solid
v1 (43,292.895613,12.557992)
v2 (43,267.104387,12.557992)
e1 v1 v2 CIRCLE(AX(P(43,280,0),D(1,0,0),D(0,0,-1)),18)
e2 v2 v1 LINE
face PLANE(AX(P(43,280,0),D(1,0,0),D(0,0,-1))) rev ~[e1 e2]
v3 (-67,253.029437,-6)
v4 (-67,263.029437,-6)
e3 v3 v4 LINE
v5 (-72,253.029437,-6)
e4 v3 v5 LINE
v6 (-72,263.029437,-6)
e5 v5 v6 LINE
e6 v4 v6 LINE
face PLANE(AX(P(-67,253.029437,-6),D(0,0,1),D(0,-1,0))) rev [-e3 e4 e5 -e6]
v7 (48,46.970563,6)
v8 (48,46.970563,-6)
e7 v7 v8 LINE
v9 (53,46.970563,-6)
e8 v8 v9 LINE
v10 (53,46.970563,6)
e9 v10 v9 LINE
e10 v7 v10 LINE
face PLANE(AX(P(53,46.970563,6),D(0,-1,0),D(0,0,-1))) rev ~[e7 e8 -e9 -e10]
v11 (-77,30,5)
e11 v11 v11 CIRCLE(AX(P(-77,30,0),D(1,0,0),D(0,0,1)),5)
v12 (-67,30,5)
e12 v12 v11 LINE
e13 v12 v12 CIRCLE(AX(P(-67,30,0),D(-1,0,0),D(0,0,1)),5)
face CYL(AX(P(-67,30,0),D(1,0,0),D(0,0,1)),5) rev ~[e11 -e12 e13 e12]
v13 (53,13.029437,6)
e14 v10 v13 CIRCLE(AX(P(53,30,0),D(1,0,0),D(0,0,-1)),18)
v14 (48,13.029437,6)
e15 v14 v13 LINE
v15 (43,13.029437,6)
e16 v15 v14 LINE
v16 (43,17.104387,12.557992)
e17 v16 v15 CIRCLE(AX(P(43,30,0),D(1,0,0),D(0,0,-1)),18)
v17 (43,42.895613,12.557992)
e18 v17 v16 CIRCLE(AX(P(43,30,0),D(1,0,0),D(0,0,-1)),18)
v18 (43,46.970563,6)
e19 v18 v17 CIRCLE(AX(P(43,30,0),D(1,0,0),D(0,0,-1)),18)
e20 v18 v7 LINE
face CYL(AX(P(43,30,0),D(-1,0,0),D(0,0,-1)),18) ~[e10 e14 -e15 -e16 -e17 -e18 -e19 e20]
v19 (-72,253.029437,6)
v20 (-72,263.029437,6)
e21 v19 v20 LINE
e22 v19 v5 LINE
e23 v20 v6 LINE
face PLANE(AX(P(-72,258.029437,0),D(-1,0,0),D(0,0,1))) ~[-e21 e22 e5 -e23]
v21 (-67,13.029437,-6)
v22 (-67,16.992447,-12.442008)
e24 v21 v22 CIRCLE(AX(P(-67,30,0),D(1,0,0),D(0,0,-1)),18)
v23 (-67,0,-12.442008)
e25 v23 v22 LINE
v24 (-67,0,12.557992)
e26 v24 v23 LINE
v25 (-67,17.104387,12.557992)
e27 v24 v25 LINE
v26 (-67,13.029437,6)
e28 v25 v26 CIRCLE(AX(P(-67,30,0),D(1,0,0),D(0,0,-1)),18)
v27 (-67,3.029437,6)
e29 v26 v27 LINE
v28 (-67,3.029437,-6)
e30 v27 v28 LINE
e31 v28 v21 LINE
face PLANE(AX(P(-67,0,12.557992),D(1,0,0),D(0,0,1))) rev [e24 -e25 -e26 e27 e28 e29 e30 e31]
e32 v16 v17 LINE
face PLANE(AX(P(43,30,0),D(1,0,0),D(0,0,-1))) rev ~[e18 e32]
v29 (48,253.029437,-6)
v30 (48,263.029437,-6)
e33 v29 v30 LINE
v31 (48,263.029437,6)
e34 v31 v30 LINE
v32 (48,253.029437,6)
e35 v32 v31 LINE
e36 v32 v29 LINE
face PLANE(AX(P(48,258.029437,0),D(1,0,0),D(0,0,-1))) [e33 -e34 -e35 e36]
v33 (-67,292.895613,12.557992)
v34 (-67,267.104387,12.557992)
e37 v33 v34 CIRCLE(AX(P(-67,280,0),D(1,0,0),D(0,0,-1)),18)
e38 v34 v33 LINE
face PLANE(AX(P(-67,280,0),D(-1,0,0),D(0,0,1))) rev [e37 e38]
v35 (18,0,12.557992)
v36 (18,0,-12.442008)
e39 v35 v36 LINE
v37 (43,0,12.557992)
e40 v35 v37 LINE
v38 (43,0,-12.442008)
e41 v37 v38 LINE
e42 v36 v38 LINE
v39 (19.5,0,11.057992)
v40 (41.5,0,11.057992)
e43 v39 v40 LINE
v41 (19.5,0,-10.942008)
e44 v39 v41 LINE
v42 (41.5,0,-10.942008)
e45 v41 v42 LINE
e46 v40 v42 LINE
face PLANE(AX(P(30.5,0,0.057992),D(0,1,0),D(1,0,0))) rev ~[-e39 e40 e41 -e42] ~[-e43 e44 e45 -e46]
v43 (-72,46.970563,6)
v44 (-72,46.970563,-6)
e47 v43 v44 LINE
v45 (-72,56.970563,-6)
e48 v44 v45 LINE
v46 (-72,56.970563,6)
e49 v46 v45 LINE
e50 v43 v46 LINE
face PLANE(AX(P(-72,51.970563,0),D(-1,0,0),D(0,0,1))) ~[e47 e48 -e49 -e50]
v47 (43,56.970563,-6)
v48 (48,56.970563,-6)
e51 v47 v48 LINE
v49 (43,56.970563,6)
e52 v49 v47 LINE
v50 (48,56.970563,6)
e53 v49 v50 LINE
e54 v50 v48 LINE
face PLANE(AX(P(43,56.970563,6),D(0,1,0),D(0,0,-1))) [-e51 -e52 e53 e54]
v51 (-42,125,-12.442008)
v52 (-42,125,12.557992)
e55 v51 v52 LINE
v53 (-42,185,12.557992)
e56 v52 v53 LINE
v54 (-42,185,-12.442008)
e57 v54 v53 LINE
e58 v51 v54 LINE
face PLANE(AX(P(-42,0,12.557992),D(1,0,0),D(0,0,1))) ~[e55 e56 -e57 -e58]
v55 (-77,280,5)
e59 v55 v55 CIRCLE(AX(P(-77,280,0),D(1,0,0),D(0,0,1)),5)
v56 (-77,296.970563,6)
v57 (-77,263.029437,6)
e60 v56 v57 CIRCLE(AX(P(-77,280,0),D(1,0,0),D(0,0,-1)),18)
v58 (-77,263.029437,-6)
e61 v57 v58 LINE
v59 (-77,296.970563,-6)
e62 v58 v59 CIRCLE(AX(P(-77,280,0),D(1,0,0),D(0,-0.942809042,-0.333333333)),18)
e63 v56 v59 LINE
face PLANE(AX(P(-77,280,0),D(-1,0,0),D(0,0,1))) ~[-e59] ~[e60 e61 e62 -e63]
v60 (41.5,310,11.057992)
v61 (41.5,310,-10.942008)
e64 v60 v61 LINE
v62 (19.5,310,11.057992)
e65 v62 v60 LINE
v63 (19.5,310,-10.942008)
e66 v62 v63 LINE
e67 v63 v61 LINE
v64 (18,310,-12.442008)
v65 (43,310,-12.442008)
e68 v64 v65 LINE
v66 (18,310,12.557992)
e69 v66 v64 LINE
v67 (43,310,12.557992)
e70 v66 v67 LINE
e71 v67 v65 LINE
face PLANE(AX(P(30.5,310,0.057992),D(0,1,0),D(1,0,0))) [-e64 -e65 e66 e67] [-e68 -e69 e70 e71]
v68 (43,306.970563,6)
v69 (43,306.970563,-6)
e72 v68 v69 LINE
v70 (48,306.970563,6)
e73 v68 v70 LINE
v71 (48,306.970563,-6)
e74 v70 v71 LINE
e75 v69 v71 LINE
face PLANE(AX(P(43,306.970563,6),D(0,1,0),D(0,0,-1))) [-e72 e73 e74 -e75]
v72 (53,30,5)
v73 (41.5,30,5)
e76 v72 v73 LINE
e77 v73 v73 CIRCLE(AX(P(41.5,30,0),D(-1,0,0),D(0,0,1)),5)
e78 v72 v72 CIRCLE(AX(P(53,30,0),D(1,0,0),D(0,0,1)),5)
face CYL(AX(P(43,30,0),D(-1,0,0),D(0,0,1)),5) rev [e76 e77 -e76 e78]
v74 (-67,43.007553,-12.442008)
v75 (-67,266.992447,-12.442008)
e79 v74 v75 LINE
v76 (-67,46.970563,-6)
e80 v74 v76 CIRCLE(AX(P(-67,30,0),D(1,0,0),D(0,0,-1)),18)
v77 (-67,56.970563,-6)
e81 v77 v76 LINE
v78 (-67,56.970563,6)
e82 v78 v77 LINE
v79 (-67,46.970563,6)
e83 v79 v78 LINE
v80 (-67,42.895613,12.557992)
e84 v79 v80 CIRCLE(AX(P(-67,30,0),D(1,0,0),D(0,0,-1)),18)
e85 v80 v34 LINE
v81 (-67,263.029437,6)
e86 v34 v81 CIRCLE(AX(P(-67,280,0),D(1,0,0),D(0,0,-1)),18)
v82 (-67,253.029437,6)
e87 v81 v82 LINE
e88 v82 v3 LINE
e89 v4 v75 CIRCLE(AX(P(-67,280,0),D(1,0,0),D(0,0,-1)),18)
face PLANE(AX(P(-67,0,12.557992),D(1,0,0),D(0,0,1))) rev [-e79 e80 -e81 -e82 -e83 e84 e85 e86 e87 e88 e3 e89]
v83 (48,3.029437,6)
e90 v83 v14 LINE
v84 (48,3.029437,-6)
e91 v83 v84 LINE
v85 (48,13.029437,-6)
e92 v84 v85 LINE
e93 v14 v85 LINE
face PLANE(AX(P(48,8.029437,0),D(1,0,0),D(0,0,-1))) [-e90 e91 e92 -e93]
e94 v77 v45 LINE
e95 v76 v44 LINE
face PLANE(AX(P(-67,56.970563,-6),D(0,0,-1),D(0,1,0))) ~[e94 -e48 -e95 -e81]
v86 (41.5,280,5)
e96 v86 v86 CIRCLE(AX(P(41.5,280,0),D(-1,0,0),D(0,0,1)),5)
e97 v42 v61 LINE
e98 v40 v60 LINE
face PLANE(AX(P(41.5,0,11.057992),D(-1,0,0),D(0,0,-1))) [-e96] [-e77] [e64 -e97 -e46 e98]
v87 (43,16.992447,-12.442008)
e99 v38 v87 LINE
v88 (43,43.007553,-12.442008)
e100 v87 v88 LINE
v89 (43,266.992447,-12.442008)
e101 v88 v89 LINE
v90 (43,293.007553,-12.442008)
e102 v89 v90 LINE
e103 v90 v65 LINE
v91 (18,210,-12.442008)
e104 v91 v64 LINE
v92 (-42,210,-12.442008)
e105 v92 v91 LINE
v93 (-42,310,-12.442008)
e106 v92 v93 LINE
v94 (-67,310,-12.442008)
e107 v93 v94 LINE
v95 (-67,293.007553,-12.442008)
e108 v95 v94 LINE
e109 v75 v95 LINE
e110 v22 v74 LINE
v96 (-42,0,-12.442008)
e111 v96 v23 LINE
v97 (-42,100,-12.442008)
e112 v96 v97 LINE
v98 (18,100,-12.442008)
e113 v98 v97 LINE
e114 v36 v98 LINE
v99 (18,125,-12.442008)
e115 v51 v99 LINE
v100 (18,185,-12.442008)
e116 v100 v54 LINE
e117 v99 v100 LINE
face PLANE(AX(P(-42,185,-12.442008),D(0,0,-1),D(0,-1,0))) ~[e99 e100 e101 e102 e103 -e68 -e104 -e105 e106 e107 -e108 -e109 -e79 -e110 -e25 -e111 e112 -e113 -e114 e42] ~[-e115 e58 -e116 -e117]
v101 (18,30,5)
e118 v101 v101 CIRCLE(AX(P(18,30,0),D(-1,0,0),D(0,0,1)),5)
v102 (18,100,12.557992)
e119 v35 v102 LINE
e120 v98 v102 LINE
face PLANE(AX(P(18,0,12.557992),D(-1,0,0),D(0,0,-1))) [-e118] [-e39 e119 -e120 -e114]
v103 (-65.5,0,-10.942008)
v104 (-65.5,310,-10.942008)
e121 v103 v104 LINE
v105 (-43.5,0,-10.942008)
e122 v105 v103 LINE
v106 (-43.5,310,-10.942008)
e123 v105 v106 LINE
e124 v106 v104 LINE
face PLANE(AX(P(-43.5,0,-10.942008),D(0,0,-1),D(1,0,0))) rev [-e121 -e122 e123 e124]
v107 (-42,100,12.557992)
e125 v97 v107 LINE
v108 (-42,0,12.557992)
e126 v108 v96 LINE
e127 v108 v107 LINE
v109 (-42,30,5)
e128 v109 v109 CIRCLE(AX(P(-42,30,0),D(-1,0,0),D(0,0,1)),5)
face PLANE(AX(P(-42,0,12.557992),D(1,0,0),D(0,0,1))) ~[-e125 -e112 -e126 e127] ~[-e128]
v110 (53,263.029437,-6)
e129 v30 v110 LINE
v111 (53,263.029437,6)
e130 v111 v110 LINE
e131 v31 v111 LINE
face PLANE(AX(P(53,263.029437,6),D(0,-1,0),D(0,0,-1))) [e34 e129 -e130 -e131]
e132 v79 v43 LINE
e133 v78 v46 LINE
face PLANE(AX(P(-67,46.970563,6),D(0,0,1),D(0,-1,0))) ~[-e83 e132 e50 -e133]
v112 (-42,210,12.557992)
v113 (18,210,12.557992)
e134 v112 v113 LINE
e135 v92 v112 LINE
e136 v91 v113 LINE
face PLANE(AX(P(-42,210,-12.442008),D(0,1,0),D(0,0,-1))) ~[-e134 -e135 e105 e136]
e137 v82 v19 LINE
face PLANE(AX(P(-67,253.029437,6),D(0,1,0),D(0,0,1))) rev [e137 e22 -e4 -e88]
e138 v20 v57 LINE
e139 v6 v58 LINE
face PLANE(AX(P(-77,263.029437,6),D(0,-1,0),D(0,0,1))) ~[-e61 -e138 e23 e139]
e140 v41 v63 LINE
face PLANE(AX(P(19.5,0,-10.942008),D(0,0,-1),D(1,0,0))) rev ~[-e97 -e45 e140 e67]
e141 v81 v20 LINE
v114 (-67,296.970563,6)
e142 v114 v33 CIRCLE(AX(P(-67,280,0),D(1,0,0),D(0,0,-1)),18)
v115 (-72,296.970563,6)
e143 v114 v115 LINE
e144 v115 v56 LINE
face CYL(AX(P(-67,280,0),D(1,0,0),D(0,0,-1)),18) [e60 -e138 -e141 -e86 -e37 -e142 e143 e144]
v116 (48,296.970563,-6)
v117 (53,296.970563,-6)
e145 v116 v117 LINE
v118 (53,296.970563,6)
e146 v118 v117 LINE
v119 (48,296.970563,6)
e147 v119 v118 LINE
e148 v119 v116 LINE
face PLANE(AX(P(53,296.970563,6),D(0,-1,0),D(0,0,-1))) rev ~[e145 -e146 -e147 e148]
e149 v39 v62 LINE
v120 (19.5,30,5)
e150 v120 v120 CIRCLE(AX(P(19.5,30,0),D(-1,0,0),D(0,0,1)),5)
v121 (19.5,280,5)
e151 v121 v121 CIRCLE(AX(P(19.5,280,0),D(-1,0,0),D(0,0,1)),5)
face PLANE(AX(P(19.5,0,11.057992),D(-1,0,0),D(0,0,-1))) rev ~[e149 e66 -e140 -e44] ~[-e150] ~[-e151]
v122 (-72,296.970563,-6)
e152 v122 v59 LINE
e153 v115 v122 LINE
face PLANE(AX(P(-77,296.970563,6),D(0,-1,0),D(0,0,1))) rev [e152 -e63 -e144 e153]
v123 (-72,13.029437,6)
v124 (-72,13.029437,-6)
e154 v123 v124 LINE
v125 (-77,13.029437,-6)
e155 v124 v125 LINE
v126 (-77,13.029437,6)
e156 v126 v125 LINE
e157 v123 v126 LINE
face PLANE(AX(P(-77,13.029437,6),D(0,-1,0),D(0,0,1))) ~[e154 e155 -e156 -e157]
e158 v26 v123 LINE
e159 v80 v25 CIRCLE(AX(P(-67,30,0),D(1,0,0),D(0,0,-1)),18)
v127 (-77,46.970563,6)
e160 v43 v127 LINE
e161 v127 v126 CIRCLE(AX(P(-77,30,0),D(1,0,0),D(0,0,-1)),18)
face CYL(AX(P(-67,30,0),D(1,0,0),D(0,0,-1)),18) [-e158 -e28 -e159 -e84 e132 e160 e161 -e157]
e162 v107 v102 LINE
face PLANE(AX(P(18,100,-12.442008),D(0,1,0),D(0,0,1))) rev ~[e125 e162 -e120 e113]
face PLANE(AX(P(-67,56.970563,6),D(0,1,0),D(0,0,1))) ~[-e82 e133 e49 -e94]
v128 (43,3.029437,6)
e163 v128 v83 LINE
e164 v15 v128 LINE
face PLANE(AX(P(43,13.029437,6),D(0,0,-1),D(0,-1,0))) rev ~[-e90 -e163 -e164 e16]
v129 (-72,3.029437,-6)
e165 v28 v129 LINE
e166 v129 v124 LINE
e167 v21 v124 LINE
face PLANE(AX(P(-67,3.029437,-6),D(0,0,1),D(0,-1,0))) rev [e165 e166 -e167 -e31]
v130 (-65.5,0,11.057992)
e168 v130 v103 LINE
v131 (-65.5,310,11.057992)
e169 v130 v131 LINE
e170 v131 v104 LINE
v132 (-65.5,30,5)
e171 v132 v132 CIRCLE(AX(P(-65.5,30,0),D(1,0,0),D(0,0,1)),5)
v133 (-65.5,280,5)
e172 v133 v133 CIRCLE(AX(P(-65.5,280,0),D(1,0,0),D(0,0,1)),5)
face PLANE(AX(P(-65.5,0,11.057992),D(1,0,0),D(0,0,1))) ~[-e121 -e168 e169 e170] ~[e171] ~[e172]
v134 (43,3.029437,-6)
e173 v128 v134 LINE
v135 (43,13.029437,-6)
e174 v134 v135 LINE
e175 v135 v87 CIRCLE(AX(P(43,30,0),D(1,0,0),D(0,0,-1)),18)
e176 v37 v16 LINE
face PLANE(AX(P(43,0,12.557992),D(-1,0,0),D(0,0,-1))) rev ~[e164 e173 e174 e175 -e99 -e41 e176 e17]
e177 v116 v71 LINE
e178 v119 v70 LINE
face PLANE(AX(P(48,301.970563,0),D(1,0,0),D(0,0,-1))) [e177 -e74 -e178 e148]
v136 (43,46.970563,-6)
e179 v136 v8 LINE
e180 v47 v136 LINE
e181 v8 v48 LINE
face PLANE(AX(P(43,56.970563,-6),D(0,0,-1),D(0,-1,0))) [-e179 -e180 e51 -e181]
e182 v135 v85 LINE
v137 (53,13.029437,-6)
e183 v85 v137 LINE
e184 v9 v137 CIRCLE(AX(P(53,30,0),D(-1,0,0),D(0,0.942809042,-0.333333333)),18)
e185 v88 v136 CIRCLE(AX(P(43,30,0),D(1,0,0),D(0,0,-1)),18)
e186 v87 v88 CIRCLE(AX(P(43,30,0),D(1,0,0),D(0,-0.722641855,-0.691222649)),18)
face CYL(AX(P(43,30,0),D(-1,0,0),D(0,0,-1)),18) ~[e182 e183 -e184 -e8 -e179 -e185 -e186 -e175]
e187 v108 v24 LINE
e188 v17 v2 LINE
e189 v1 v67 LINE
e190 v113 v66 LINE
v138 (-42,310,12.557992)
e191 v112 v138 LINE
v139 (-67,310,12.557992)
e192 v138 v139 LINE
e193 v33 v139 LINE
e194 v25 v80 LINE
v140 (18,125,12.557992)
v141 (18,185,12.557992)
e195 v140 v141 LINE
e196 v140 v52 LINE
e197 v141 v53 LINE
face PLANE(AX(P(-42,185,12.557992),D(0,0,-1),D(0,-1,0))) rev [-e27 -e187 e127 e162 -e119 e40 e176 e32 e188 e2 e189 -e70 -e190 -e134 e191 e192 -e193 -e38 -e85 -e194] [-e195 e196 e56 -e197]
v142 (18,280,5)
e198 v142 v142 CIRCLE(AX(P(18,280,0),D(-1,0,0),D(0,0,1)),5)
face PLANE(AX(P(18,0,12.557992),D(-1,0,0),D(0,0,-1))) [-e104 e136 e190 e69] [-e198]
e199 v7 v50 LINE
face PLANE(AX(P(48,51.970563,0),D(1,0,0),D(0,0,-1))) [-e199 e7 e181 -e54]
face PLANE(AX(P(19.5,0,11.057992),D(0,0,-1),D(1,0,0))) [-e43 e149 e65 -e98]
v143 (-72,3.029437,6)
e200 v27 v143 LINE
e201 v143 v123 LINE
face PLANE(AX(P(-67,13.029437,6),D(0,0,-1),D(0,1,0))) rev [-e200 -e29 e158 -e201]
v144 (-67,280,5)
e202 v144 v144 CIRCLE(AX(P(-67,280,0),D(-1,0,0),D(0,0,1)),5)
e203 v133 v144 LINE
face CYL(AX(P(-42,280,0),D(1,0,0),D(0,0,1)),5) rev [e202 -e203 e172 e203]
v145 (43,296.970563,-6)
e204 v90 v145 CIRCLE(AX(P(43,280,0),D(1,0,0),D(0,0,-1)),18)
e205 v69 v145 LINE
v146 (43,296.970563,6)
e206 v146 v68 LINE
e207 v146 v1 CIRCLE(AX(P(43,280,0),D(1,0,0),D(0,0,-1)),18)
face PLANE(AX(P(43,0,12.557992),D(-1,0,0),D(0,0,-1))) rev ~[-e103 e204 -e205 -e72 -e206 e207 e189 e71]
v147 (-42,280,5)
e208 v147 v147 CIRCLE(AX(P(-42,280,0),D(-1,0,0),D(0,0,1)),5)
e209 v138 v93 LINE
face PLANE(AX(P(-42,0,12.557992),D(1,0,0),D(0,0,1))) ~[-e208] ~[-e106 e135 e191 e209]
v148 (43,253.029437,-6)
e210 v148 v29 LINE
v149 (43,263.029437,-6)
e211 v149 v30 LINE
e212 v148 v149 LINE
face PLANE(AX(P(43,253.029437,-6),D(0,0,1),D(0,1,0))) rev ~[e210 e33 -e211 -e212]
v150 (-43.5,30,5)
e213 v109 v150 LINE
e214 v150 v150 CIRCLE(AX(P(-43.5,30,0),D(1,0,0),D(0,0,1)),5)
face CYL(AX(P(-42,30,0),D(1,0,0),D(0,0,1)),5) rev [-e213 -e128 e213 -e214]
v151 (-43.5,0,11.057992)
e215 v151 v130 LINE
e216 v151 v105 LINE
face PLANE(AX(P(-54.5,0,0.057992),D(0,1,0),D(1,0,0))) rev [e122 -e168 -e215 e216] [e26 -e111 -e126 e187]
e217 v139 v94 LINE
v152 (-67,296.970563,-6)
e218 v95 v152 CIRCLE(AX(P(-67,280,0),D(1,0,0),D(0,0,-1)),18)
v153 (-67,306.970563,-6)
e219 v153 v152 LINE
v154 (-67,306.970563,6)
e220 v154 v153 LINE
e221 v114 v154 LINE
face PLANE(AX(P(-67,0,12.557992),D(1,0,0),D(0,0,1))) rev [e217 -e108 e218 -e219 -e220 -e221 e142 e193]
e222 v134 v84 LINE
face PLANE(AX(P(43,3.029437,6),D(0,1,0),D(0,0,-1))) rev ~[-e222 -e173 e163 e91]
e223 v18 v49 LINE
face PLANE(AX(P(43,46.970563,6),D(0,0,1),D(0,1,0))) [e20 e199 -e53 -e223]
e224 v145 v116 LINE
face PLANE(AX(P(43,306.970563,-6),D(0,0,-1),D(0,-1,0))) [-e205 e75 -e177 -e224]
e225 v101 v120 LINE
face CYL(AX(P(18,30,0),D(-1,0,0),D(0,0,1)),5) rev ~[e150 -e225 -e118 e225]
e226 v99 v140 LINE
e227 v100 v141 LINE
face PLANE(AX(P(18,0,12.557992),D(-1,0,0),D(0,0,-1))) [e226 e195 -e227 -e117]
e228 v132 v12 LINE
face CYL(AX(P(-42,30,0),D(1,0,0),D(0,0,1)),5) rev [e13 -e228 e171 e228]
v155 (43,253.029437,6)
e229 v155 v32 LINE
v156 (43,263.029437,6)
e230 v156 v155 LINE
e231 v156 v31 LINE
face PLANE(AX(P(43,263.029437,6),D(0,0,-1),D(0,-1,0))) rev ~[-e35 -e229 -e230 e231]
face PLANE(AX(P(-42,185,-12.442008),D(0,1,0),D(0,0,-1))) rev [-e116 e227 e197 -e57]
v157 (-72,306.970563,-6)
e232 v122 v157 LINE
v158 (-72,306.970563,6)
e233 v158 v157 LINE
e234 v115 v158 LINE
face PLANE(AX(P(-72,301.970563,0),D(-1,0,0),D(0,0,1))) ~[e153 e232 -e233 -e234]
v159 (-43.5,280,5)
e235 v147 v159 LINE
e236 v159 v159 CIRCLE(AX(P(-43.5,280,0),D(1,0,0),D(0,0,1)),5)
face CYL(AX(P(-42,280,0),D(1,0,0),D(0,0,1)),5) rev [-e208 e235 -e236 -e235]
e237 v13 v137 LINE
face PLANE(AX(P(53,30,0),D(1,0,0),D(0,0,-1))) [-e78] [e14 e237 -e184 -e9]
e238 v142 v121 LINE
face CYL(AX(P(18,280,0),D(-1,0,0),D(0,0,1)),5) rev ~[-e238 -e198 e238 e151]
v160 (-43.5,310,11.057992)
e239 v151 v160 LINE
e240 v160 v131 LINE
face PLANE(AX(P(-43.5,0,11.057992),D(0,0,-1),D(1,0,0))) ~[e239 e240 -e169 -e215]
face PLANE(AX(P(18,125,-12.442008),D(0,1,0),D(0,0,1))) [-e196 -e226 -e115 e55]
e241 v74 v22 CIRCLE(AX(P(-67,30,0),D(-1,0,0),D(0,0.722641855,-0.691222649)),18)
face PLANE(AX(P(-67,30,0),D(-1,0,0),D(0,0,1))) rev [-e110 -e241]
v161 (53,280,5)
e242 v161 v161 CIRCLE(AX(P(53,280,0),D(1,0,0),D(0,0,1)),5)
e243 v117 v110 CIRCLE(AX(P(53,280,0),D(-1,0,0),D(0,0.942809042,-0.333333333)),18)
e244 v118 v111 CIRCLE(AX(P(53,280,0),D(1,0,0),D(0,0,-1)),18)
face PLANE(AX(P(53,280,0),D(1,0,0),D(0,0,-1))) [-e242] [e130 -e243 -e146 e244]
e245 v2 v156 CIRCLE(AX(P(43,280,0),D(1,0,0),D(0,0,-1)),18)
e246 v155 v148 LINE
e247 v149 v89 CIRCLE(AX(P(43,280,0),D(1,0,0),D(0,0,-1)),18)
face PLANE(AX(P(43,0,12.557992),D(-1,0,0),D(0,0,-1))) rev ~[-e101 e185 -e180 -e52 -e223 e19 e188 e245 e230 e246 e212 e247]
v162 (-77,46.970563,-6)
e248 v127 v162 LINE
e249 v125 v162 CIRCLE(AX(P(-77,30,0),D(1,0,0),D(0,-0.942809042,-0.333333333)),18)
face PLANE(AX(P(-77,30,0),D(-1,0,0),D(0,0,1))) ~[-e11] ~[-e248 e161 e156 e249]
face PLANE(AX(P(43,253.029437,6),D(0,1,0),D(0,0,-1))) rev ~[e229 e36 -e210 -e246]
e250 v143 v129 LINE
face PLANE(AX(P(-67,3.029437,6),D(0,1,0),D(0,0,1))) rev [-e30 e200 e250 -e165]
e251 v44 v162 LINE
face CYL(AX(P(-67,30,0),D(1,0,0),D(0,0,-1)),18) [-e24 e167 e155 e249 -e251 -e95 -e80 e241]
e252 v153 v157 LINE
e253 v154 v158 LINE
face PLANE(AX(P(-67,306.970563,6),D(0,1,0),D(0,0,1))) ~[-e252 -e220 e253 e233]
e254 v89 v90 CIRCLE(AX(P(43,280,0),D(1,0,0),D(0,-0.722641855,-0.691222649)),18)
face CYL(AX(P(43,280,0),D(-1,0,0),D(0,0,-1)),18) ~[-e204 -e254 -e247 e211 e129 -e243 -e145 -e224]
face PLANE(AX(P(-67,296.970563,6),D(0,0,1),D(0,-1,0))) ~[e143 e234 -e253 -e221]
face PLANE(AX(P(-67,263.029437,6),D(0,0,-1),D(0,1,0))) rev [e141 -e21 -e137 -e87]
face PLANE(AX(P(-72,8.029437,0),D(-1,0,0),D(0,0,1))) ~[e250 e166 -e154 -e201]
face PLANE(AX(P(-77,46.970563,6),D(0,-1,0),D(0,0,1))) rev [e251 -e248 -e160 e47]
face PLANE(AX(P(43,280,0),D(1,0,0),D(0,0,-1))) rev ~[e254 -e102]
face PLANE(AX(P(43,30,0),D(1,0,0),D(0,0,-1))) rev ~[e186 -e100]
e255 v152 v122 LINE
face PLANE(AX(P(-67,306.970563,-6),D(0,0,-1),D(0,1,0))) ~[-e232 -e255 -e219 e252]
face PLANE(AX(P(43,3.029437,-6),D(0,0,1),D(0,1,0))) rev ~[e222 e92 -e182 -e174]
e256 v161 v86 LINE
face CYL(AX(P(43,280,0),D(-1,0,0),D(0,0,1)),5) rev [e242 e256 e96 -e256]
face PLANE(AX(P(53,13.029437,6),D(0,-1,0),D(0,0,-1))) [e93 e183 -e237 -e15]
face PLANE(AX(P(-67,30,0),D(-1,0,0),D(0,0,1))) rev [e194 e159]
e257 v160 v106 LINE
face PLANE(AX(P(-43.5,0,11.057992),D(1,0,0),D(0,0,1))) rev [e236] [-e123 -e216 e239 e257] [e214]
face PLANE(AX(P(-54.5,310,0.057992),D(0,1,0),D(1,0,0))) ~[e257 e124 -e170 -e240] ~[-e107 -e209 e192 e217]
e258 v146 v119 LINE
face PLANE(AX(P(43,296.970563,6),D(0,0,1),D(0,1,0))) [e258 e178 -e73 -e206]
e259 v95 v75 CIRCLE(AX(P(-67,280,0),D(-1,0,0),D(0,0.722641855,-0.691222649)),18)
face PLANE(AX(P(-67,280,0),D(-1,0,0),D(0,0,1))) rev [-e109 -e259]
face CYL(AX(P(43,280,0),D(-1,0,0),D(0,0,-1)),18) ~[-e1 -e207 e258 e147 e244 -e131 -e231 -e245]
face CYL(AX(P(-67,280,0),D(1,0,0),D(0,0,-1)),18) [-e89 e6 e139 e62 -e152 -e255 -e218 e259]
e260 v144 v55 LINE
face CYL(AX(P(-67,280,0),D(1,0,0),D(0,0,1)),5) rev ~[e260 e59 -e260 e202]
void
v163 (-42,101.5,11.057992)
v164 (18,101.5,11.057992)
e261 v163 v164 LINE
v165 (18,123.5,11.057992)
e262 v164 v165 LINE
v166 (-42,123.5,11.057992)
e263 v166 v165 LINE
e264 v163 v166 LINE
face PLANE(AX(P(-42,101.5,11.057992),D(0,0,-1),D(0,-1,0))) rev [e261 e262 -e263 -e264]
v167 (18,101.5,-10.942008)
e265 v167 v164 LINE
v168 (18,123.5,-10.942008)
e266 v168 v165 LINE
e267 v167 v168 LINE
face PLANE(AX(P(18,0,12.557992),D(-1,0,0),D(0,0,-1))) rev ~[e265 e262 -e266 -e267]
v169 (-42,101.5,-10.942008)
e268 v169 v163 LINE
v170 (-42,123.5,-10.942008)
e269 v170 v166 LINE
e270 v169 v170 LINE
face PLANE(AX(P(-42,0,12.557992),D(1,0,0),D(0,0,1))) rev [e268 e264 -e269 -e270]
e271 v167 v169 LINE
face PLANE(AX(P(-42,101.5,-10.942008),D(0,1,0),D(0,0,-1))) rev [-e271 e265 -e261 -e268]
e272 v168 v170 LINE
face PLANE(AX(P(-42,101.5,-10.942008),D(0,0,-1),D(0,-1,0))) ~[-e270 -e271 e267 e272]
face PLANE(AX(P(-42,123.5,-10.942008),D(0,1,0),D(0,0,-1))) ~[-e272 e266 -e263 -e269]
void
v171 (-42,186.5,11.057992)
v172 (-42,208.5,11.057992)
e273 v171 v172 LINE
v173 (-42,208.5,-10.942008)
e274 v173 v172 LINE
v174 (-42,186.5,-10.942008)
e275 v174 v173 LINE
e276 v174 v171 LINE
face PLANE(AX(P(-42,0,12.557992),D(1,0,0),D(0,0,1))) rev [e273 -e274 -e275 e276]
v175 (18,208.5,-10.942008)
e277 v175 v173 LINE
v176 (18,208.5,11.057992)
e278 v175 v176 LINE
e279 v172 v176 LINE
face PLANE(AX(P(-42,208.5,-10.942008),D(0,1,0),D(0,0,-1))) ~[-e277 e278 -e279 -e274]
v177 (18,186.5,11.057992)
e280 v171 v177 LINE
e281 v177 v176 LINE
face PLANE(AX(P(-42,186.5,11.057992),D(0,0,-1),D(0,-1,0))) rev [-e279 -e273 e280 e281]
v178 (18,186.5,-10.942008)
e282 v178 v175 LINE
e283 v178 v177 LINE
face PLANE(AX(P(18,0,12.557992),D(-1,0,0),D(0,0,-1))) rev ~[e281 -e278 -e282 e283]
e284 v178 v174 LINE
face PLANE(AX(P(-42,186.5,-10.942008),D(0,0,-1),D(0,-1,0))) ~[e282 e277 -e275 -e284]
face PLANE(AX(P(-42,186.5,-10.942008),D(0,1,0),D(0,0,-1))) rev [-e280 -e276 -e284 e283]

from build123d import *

# Parameters (mm, degrees)
SKETCH1_W           = 25
SKETCH1_H           = 25
SKETCH1_W_2         = 22
SKETCH1_H_2         = 22
BOSS_EXTRUDE1_DEPTH = 310
SKETCH2_W           = 25
SKETCH2_H           = 25
SKETCH2_W_2         = 22
SKETCH2_H_2         = 22
BOSS_EXTRUDE2_DEPTH = 30
SKETCH8_R           = 5
CUT_EXTRUDE1_DEPTH  = 25
SKETCH9_R           = 18
SKETCH9_R_2         = 5
BOSS_EXTRUDE3_DEPTH = 10
SKETCH10_R          = 18
SKETCH10_R_2        = 5
BOSS_EXTRUDE4_DEPTH = 10
SKETCH11_W          = 12
SKETCH11_H          = 10
CUT_EXTRUDE2_DEPTH  = 5


with BuildPart() as part:
    # Sketch1 → Boss-Extrude1 (new body)
    with BuildSketch(Plane(origin=(0, 0, 0), x_dir=(1, 0, 0), z_dir=(0, 1, 0))):
        with Locations((30.5, -0.057992327)):
            Rectangle(SKETCH1_W, SKETCH1_H)
        with Locations((30.5, -0.057992327)):
            Rectangle(SKETCH1_W_2, SKETCH1_H_2, mode=Mode.SUBTRACT)
    boss_extrude1 = extrude(amount=BOSS_EXTRUDE1_DEPTH)

    # Sketch2 → Boss-Extrude2 (add)
    # profile 1 of 2: a face of its own
    with BuildSketch(Plane.ZY.offset(-18)):
        with Locations((0.057992327, 197.5)):
            Rectangle(SKETCH2_W, SKETCH2_H)
        with Locations((0.057992327, 197.5)):
            Rectangle(SKETCH2_W_2, SKETCH2_H_2, mode=Mode.SUBTRACT)
    # profile 2 of 2: a face of its own
    with BuildSketch(Plane.ZY.offset(-18)):
        with Locations((0.057992327, 112.5)):
            Rectangle(SKETCH2_W, SKETCH2_H)
        with Locations((0.057992327, 112.5)):
            Rectangle(SKETCH2_W_2, SKETCH2_H_2, mode=Mode.SUBTRACT)
    boss_extrude2 = extrude(amount=BOSS_EXTRUDE2_DEPTH)

    # Sketch8 → Cut-Extrude1 (cut)
    with BuildSketch(Plane.ZY.offset(-18)):
        with Locations((0, 280)):
            Circle(SKETCH8_R)
        with Locations((0, 30)):
            Circle(SKETCH8_R)
    cut_extrude1 = extrude(amount=-CUT_EXTRUDE1_DEPTH, mode=Mode.SUBTRACT)

    # Sketch9 → Boss-Extrude3 (add)
    # profile 1 of 3: a face of its own
    with BuildSketch(Plane(origin=(43, 0, 0), x_dir=(0, 0, -1), z_dir=(1, 0, 0))):
        with Locations((0, 30)):
            Circle(SKETCH9_R)
        with Locations(Location((0, 30, 0), (0, 0, 180))):
            Circle(SKETCH9_R_2, mode=Mode.SUBTRACT)
    # profile 2 of 3: a face of its own
    with BuildSketch(Plane(origin=(43, 0, 0), x_dir=(0, 0, -1), z_dir=(1, 0, 0))):
        with BuildLine():
            Line((-6, 13.029437252), (-6, 3.029437252))
            Line((-6, 3.029437252), (6, 3.029437252))
            Line((6, 3.029437252), (6, 13.029437252))
            ThreePointArc((6, 13.029437252), (0, 12), (-6, 13.029437252))
        make_face()
    # profile 3 of 3: a face of its own
    with BuildSketch(Plane(origin=(43, 0, 0), x_dir=(0, 0, -1), z_dir=(1, 0, 0))):
        with BuildLine():
            Line((-6, 46.970562748), (-6, 56.970562748))
            Line((-6, 56.970562748), (6, 56.970562748))
            Line((6, 56.970562748), (6, 46.970562748))
            ThreePointArc((6, 46.970562748), (0, 48), (-6, 46.970562748))
        make_face()
    boss_extrude3 = extrude(amount=BOSS_EXTRUDE3_DEPTH)

    # Sketch10 → Boss-Extrude4 (add)
    # profile 1 of 3: a face of its own
    with BuildSketch(Plane(origin=(43, 0, 0), x_dir=(0, 0, -1), z_dir=(1, 0, 0))):
        with Locations((0, 280)):
            Circle(SKETCH10_R)
        with Locations(Location((0, 280, 0), (0, 0, 180))):
            Circle(SKETCH10_R_2, mode=Mode.SUBTRACT)
    # profile 2 of 3: a face of its own
    with BuildSketch(Plane(origin=(43, 0, 0), x_dir=(0, 0, -1), z_dir=(1, 0, 0))):
        with BuildLine():
            Line((-6, 296.970562748), (-6, 306.970562748))
            Line((-6, 306.970562748), (6, 306.970562748))
            Line((6, 306.970562748), (6, 296.970562748))
            ThreePointArc((6, 296.970562748), (0, 298), (-6, 296.970562748))
        make_face()
    # profile 3 of 3: a face of its own
    with BuildSketch(Plane(origin=(43, 0, 0), x_dir=(0, 0, -1), z_dir=(1, 0, 0))):
        with BuildLine():
            Line((-6, 263.029437252), (-6, 253.029437252))
            Line((-6, 253.029437252), (6, 253.029437252))
            Line((6, 253.029437252), (6, 263.029437252))
            ThreePointArc((6, 263.029437252), (0, 262), (-6, 263.029437252))
        make_face()
    boss_extrude4 = extrude(amount=BOSS_EXTRUDE4_DEPTH)

    # Sketch11 → Cut-Extrude2 (cut)
    with BuildSketch(Plane(origin=(53, 0, 0), x_dir=(0, 0, -1), z_dir=(1, 0, 0))):
        with Locations((0, 8.029437252)):
            Rectangle(SKETCH11_W, SKETCH11_H)
        with Locations((0, 51.970562748)):
            Rectangle(SKETCH11_W, SKETCH11_H)
        with Locations((0, 258.029437252)):
            Rectangle(SKETCH11_W, SKETCH11_H)
        with Locations((0, 301.970562748)):
            Rectangle(SKETCH11_W, SKETCH11_H)
    cut_extrude2 = extrude(amount=-CUT_EXTRUDE2_DEPTH, mode=Mode.SUBTRACT)

    # Mirror1: Boss-Extrude1, Boss-Extrude2, Cut-Extrude1, Boss-Extrude3, Boss-Extrude4, Cut-Extrude2 across plane
    add(boss_extrude1.mirror(Plane.ZY.offset(12)))
    add(boss_extrude2.mirror(Plane.ZY.offset(12)))
    add(cut_extrude1.mirror(Plane.ZY.offset(12)), mode=Mode.SUBTRACT)
    add(boss_extrude3.mirror(Plane.ZY.offset(12)))
    add(boss_extrude4.mirror(Plane.ZY.offset(12)))
    add(cut_extrude2.mirror(Plane.ZY.offset(12)), mode=Mode.SUBTRACT)


solid = part.part
